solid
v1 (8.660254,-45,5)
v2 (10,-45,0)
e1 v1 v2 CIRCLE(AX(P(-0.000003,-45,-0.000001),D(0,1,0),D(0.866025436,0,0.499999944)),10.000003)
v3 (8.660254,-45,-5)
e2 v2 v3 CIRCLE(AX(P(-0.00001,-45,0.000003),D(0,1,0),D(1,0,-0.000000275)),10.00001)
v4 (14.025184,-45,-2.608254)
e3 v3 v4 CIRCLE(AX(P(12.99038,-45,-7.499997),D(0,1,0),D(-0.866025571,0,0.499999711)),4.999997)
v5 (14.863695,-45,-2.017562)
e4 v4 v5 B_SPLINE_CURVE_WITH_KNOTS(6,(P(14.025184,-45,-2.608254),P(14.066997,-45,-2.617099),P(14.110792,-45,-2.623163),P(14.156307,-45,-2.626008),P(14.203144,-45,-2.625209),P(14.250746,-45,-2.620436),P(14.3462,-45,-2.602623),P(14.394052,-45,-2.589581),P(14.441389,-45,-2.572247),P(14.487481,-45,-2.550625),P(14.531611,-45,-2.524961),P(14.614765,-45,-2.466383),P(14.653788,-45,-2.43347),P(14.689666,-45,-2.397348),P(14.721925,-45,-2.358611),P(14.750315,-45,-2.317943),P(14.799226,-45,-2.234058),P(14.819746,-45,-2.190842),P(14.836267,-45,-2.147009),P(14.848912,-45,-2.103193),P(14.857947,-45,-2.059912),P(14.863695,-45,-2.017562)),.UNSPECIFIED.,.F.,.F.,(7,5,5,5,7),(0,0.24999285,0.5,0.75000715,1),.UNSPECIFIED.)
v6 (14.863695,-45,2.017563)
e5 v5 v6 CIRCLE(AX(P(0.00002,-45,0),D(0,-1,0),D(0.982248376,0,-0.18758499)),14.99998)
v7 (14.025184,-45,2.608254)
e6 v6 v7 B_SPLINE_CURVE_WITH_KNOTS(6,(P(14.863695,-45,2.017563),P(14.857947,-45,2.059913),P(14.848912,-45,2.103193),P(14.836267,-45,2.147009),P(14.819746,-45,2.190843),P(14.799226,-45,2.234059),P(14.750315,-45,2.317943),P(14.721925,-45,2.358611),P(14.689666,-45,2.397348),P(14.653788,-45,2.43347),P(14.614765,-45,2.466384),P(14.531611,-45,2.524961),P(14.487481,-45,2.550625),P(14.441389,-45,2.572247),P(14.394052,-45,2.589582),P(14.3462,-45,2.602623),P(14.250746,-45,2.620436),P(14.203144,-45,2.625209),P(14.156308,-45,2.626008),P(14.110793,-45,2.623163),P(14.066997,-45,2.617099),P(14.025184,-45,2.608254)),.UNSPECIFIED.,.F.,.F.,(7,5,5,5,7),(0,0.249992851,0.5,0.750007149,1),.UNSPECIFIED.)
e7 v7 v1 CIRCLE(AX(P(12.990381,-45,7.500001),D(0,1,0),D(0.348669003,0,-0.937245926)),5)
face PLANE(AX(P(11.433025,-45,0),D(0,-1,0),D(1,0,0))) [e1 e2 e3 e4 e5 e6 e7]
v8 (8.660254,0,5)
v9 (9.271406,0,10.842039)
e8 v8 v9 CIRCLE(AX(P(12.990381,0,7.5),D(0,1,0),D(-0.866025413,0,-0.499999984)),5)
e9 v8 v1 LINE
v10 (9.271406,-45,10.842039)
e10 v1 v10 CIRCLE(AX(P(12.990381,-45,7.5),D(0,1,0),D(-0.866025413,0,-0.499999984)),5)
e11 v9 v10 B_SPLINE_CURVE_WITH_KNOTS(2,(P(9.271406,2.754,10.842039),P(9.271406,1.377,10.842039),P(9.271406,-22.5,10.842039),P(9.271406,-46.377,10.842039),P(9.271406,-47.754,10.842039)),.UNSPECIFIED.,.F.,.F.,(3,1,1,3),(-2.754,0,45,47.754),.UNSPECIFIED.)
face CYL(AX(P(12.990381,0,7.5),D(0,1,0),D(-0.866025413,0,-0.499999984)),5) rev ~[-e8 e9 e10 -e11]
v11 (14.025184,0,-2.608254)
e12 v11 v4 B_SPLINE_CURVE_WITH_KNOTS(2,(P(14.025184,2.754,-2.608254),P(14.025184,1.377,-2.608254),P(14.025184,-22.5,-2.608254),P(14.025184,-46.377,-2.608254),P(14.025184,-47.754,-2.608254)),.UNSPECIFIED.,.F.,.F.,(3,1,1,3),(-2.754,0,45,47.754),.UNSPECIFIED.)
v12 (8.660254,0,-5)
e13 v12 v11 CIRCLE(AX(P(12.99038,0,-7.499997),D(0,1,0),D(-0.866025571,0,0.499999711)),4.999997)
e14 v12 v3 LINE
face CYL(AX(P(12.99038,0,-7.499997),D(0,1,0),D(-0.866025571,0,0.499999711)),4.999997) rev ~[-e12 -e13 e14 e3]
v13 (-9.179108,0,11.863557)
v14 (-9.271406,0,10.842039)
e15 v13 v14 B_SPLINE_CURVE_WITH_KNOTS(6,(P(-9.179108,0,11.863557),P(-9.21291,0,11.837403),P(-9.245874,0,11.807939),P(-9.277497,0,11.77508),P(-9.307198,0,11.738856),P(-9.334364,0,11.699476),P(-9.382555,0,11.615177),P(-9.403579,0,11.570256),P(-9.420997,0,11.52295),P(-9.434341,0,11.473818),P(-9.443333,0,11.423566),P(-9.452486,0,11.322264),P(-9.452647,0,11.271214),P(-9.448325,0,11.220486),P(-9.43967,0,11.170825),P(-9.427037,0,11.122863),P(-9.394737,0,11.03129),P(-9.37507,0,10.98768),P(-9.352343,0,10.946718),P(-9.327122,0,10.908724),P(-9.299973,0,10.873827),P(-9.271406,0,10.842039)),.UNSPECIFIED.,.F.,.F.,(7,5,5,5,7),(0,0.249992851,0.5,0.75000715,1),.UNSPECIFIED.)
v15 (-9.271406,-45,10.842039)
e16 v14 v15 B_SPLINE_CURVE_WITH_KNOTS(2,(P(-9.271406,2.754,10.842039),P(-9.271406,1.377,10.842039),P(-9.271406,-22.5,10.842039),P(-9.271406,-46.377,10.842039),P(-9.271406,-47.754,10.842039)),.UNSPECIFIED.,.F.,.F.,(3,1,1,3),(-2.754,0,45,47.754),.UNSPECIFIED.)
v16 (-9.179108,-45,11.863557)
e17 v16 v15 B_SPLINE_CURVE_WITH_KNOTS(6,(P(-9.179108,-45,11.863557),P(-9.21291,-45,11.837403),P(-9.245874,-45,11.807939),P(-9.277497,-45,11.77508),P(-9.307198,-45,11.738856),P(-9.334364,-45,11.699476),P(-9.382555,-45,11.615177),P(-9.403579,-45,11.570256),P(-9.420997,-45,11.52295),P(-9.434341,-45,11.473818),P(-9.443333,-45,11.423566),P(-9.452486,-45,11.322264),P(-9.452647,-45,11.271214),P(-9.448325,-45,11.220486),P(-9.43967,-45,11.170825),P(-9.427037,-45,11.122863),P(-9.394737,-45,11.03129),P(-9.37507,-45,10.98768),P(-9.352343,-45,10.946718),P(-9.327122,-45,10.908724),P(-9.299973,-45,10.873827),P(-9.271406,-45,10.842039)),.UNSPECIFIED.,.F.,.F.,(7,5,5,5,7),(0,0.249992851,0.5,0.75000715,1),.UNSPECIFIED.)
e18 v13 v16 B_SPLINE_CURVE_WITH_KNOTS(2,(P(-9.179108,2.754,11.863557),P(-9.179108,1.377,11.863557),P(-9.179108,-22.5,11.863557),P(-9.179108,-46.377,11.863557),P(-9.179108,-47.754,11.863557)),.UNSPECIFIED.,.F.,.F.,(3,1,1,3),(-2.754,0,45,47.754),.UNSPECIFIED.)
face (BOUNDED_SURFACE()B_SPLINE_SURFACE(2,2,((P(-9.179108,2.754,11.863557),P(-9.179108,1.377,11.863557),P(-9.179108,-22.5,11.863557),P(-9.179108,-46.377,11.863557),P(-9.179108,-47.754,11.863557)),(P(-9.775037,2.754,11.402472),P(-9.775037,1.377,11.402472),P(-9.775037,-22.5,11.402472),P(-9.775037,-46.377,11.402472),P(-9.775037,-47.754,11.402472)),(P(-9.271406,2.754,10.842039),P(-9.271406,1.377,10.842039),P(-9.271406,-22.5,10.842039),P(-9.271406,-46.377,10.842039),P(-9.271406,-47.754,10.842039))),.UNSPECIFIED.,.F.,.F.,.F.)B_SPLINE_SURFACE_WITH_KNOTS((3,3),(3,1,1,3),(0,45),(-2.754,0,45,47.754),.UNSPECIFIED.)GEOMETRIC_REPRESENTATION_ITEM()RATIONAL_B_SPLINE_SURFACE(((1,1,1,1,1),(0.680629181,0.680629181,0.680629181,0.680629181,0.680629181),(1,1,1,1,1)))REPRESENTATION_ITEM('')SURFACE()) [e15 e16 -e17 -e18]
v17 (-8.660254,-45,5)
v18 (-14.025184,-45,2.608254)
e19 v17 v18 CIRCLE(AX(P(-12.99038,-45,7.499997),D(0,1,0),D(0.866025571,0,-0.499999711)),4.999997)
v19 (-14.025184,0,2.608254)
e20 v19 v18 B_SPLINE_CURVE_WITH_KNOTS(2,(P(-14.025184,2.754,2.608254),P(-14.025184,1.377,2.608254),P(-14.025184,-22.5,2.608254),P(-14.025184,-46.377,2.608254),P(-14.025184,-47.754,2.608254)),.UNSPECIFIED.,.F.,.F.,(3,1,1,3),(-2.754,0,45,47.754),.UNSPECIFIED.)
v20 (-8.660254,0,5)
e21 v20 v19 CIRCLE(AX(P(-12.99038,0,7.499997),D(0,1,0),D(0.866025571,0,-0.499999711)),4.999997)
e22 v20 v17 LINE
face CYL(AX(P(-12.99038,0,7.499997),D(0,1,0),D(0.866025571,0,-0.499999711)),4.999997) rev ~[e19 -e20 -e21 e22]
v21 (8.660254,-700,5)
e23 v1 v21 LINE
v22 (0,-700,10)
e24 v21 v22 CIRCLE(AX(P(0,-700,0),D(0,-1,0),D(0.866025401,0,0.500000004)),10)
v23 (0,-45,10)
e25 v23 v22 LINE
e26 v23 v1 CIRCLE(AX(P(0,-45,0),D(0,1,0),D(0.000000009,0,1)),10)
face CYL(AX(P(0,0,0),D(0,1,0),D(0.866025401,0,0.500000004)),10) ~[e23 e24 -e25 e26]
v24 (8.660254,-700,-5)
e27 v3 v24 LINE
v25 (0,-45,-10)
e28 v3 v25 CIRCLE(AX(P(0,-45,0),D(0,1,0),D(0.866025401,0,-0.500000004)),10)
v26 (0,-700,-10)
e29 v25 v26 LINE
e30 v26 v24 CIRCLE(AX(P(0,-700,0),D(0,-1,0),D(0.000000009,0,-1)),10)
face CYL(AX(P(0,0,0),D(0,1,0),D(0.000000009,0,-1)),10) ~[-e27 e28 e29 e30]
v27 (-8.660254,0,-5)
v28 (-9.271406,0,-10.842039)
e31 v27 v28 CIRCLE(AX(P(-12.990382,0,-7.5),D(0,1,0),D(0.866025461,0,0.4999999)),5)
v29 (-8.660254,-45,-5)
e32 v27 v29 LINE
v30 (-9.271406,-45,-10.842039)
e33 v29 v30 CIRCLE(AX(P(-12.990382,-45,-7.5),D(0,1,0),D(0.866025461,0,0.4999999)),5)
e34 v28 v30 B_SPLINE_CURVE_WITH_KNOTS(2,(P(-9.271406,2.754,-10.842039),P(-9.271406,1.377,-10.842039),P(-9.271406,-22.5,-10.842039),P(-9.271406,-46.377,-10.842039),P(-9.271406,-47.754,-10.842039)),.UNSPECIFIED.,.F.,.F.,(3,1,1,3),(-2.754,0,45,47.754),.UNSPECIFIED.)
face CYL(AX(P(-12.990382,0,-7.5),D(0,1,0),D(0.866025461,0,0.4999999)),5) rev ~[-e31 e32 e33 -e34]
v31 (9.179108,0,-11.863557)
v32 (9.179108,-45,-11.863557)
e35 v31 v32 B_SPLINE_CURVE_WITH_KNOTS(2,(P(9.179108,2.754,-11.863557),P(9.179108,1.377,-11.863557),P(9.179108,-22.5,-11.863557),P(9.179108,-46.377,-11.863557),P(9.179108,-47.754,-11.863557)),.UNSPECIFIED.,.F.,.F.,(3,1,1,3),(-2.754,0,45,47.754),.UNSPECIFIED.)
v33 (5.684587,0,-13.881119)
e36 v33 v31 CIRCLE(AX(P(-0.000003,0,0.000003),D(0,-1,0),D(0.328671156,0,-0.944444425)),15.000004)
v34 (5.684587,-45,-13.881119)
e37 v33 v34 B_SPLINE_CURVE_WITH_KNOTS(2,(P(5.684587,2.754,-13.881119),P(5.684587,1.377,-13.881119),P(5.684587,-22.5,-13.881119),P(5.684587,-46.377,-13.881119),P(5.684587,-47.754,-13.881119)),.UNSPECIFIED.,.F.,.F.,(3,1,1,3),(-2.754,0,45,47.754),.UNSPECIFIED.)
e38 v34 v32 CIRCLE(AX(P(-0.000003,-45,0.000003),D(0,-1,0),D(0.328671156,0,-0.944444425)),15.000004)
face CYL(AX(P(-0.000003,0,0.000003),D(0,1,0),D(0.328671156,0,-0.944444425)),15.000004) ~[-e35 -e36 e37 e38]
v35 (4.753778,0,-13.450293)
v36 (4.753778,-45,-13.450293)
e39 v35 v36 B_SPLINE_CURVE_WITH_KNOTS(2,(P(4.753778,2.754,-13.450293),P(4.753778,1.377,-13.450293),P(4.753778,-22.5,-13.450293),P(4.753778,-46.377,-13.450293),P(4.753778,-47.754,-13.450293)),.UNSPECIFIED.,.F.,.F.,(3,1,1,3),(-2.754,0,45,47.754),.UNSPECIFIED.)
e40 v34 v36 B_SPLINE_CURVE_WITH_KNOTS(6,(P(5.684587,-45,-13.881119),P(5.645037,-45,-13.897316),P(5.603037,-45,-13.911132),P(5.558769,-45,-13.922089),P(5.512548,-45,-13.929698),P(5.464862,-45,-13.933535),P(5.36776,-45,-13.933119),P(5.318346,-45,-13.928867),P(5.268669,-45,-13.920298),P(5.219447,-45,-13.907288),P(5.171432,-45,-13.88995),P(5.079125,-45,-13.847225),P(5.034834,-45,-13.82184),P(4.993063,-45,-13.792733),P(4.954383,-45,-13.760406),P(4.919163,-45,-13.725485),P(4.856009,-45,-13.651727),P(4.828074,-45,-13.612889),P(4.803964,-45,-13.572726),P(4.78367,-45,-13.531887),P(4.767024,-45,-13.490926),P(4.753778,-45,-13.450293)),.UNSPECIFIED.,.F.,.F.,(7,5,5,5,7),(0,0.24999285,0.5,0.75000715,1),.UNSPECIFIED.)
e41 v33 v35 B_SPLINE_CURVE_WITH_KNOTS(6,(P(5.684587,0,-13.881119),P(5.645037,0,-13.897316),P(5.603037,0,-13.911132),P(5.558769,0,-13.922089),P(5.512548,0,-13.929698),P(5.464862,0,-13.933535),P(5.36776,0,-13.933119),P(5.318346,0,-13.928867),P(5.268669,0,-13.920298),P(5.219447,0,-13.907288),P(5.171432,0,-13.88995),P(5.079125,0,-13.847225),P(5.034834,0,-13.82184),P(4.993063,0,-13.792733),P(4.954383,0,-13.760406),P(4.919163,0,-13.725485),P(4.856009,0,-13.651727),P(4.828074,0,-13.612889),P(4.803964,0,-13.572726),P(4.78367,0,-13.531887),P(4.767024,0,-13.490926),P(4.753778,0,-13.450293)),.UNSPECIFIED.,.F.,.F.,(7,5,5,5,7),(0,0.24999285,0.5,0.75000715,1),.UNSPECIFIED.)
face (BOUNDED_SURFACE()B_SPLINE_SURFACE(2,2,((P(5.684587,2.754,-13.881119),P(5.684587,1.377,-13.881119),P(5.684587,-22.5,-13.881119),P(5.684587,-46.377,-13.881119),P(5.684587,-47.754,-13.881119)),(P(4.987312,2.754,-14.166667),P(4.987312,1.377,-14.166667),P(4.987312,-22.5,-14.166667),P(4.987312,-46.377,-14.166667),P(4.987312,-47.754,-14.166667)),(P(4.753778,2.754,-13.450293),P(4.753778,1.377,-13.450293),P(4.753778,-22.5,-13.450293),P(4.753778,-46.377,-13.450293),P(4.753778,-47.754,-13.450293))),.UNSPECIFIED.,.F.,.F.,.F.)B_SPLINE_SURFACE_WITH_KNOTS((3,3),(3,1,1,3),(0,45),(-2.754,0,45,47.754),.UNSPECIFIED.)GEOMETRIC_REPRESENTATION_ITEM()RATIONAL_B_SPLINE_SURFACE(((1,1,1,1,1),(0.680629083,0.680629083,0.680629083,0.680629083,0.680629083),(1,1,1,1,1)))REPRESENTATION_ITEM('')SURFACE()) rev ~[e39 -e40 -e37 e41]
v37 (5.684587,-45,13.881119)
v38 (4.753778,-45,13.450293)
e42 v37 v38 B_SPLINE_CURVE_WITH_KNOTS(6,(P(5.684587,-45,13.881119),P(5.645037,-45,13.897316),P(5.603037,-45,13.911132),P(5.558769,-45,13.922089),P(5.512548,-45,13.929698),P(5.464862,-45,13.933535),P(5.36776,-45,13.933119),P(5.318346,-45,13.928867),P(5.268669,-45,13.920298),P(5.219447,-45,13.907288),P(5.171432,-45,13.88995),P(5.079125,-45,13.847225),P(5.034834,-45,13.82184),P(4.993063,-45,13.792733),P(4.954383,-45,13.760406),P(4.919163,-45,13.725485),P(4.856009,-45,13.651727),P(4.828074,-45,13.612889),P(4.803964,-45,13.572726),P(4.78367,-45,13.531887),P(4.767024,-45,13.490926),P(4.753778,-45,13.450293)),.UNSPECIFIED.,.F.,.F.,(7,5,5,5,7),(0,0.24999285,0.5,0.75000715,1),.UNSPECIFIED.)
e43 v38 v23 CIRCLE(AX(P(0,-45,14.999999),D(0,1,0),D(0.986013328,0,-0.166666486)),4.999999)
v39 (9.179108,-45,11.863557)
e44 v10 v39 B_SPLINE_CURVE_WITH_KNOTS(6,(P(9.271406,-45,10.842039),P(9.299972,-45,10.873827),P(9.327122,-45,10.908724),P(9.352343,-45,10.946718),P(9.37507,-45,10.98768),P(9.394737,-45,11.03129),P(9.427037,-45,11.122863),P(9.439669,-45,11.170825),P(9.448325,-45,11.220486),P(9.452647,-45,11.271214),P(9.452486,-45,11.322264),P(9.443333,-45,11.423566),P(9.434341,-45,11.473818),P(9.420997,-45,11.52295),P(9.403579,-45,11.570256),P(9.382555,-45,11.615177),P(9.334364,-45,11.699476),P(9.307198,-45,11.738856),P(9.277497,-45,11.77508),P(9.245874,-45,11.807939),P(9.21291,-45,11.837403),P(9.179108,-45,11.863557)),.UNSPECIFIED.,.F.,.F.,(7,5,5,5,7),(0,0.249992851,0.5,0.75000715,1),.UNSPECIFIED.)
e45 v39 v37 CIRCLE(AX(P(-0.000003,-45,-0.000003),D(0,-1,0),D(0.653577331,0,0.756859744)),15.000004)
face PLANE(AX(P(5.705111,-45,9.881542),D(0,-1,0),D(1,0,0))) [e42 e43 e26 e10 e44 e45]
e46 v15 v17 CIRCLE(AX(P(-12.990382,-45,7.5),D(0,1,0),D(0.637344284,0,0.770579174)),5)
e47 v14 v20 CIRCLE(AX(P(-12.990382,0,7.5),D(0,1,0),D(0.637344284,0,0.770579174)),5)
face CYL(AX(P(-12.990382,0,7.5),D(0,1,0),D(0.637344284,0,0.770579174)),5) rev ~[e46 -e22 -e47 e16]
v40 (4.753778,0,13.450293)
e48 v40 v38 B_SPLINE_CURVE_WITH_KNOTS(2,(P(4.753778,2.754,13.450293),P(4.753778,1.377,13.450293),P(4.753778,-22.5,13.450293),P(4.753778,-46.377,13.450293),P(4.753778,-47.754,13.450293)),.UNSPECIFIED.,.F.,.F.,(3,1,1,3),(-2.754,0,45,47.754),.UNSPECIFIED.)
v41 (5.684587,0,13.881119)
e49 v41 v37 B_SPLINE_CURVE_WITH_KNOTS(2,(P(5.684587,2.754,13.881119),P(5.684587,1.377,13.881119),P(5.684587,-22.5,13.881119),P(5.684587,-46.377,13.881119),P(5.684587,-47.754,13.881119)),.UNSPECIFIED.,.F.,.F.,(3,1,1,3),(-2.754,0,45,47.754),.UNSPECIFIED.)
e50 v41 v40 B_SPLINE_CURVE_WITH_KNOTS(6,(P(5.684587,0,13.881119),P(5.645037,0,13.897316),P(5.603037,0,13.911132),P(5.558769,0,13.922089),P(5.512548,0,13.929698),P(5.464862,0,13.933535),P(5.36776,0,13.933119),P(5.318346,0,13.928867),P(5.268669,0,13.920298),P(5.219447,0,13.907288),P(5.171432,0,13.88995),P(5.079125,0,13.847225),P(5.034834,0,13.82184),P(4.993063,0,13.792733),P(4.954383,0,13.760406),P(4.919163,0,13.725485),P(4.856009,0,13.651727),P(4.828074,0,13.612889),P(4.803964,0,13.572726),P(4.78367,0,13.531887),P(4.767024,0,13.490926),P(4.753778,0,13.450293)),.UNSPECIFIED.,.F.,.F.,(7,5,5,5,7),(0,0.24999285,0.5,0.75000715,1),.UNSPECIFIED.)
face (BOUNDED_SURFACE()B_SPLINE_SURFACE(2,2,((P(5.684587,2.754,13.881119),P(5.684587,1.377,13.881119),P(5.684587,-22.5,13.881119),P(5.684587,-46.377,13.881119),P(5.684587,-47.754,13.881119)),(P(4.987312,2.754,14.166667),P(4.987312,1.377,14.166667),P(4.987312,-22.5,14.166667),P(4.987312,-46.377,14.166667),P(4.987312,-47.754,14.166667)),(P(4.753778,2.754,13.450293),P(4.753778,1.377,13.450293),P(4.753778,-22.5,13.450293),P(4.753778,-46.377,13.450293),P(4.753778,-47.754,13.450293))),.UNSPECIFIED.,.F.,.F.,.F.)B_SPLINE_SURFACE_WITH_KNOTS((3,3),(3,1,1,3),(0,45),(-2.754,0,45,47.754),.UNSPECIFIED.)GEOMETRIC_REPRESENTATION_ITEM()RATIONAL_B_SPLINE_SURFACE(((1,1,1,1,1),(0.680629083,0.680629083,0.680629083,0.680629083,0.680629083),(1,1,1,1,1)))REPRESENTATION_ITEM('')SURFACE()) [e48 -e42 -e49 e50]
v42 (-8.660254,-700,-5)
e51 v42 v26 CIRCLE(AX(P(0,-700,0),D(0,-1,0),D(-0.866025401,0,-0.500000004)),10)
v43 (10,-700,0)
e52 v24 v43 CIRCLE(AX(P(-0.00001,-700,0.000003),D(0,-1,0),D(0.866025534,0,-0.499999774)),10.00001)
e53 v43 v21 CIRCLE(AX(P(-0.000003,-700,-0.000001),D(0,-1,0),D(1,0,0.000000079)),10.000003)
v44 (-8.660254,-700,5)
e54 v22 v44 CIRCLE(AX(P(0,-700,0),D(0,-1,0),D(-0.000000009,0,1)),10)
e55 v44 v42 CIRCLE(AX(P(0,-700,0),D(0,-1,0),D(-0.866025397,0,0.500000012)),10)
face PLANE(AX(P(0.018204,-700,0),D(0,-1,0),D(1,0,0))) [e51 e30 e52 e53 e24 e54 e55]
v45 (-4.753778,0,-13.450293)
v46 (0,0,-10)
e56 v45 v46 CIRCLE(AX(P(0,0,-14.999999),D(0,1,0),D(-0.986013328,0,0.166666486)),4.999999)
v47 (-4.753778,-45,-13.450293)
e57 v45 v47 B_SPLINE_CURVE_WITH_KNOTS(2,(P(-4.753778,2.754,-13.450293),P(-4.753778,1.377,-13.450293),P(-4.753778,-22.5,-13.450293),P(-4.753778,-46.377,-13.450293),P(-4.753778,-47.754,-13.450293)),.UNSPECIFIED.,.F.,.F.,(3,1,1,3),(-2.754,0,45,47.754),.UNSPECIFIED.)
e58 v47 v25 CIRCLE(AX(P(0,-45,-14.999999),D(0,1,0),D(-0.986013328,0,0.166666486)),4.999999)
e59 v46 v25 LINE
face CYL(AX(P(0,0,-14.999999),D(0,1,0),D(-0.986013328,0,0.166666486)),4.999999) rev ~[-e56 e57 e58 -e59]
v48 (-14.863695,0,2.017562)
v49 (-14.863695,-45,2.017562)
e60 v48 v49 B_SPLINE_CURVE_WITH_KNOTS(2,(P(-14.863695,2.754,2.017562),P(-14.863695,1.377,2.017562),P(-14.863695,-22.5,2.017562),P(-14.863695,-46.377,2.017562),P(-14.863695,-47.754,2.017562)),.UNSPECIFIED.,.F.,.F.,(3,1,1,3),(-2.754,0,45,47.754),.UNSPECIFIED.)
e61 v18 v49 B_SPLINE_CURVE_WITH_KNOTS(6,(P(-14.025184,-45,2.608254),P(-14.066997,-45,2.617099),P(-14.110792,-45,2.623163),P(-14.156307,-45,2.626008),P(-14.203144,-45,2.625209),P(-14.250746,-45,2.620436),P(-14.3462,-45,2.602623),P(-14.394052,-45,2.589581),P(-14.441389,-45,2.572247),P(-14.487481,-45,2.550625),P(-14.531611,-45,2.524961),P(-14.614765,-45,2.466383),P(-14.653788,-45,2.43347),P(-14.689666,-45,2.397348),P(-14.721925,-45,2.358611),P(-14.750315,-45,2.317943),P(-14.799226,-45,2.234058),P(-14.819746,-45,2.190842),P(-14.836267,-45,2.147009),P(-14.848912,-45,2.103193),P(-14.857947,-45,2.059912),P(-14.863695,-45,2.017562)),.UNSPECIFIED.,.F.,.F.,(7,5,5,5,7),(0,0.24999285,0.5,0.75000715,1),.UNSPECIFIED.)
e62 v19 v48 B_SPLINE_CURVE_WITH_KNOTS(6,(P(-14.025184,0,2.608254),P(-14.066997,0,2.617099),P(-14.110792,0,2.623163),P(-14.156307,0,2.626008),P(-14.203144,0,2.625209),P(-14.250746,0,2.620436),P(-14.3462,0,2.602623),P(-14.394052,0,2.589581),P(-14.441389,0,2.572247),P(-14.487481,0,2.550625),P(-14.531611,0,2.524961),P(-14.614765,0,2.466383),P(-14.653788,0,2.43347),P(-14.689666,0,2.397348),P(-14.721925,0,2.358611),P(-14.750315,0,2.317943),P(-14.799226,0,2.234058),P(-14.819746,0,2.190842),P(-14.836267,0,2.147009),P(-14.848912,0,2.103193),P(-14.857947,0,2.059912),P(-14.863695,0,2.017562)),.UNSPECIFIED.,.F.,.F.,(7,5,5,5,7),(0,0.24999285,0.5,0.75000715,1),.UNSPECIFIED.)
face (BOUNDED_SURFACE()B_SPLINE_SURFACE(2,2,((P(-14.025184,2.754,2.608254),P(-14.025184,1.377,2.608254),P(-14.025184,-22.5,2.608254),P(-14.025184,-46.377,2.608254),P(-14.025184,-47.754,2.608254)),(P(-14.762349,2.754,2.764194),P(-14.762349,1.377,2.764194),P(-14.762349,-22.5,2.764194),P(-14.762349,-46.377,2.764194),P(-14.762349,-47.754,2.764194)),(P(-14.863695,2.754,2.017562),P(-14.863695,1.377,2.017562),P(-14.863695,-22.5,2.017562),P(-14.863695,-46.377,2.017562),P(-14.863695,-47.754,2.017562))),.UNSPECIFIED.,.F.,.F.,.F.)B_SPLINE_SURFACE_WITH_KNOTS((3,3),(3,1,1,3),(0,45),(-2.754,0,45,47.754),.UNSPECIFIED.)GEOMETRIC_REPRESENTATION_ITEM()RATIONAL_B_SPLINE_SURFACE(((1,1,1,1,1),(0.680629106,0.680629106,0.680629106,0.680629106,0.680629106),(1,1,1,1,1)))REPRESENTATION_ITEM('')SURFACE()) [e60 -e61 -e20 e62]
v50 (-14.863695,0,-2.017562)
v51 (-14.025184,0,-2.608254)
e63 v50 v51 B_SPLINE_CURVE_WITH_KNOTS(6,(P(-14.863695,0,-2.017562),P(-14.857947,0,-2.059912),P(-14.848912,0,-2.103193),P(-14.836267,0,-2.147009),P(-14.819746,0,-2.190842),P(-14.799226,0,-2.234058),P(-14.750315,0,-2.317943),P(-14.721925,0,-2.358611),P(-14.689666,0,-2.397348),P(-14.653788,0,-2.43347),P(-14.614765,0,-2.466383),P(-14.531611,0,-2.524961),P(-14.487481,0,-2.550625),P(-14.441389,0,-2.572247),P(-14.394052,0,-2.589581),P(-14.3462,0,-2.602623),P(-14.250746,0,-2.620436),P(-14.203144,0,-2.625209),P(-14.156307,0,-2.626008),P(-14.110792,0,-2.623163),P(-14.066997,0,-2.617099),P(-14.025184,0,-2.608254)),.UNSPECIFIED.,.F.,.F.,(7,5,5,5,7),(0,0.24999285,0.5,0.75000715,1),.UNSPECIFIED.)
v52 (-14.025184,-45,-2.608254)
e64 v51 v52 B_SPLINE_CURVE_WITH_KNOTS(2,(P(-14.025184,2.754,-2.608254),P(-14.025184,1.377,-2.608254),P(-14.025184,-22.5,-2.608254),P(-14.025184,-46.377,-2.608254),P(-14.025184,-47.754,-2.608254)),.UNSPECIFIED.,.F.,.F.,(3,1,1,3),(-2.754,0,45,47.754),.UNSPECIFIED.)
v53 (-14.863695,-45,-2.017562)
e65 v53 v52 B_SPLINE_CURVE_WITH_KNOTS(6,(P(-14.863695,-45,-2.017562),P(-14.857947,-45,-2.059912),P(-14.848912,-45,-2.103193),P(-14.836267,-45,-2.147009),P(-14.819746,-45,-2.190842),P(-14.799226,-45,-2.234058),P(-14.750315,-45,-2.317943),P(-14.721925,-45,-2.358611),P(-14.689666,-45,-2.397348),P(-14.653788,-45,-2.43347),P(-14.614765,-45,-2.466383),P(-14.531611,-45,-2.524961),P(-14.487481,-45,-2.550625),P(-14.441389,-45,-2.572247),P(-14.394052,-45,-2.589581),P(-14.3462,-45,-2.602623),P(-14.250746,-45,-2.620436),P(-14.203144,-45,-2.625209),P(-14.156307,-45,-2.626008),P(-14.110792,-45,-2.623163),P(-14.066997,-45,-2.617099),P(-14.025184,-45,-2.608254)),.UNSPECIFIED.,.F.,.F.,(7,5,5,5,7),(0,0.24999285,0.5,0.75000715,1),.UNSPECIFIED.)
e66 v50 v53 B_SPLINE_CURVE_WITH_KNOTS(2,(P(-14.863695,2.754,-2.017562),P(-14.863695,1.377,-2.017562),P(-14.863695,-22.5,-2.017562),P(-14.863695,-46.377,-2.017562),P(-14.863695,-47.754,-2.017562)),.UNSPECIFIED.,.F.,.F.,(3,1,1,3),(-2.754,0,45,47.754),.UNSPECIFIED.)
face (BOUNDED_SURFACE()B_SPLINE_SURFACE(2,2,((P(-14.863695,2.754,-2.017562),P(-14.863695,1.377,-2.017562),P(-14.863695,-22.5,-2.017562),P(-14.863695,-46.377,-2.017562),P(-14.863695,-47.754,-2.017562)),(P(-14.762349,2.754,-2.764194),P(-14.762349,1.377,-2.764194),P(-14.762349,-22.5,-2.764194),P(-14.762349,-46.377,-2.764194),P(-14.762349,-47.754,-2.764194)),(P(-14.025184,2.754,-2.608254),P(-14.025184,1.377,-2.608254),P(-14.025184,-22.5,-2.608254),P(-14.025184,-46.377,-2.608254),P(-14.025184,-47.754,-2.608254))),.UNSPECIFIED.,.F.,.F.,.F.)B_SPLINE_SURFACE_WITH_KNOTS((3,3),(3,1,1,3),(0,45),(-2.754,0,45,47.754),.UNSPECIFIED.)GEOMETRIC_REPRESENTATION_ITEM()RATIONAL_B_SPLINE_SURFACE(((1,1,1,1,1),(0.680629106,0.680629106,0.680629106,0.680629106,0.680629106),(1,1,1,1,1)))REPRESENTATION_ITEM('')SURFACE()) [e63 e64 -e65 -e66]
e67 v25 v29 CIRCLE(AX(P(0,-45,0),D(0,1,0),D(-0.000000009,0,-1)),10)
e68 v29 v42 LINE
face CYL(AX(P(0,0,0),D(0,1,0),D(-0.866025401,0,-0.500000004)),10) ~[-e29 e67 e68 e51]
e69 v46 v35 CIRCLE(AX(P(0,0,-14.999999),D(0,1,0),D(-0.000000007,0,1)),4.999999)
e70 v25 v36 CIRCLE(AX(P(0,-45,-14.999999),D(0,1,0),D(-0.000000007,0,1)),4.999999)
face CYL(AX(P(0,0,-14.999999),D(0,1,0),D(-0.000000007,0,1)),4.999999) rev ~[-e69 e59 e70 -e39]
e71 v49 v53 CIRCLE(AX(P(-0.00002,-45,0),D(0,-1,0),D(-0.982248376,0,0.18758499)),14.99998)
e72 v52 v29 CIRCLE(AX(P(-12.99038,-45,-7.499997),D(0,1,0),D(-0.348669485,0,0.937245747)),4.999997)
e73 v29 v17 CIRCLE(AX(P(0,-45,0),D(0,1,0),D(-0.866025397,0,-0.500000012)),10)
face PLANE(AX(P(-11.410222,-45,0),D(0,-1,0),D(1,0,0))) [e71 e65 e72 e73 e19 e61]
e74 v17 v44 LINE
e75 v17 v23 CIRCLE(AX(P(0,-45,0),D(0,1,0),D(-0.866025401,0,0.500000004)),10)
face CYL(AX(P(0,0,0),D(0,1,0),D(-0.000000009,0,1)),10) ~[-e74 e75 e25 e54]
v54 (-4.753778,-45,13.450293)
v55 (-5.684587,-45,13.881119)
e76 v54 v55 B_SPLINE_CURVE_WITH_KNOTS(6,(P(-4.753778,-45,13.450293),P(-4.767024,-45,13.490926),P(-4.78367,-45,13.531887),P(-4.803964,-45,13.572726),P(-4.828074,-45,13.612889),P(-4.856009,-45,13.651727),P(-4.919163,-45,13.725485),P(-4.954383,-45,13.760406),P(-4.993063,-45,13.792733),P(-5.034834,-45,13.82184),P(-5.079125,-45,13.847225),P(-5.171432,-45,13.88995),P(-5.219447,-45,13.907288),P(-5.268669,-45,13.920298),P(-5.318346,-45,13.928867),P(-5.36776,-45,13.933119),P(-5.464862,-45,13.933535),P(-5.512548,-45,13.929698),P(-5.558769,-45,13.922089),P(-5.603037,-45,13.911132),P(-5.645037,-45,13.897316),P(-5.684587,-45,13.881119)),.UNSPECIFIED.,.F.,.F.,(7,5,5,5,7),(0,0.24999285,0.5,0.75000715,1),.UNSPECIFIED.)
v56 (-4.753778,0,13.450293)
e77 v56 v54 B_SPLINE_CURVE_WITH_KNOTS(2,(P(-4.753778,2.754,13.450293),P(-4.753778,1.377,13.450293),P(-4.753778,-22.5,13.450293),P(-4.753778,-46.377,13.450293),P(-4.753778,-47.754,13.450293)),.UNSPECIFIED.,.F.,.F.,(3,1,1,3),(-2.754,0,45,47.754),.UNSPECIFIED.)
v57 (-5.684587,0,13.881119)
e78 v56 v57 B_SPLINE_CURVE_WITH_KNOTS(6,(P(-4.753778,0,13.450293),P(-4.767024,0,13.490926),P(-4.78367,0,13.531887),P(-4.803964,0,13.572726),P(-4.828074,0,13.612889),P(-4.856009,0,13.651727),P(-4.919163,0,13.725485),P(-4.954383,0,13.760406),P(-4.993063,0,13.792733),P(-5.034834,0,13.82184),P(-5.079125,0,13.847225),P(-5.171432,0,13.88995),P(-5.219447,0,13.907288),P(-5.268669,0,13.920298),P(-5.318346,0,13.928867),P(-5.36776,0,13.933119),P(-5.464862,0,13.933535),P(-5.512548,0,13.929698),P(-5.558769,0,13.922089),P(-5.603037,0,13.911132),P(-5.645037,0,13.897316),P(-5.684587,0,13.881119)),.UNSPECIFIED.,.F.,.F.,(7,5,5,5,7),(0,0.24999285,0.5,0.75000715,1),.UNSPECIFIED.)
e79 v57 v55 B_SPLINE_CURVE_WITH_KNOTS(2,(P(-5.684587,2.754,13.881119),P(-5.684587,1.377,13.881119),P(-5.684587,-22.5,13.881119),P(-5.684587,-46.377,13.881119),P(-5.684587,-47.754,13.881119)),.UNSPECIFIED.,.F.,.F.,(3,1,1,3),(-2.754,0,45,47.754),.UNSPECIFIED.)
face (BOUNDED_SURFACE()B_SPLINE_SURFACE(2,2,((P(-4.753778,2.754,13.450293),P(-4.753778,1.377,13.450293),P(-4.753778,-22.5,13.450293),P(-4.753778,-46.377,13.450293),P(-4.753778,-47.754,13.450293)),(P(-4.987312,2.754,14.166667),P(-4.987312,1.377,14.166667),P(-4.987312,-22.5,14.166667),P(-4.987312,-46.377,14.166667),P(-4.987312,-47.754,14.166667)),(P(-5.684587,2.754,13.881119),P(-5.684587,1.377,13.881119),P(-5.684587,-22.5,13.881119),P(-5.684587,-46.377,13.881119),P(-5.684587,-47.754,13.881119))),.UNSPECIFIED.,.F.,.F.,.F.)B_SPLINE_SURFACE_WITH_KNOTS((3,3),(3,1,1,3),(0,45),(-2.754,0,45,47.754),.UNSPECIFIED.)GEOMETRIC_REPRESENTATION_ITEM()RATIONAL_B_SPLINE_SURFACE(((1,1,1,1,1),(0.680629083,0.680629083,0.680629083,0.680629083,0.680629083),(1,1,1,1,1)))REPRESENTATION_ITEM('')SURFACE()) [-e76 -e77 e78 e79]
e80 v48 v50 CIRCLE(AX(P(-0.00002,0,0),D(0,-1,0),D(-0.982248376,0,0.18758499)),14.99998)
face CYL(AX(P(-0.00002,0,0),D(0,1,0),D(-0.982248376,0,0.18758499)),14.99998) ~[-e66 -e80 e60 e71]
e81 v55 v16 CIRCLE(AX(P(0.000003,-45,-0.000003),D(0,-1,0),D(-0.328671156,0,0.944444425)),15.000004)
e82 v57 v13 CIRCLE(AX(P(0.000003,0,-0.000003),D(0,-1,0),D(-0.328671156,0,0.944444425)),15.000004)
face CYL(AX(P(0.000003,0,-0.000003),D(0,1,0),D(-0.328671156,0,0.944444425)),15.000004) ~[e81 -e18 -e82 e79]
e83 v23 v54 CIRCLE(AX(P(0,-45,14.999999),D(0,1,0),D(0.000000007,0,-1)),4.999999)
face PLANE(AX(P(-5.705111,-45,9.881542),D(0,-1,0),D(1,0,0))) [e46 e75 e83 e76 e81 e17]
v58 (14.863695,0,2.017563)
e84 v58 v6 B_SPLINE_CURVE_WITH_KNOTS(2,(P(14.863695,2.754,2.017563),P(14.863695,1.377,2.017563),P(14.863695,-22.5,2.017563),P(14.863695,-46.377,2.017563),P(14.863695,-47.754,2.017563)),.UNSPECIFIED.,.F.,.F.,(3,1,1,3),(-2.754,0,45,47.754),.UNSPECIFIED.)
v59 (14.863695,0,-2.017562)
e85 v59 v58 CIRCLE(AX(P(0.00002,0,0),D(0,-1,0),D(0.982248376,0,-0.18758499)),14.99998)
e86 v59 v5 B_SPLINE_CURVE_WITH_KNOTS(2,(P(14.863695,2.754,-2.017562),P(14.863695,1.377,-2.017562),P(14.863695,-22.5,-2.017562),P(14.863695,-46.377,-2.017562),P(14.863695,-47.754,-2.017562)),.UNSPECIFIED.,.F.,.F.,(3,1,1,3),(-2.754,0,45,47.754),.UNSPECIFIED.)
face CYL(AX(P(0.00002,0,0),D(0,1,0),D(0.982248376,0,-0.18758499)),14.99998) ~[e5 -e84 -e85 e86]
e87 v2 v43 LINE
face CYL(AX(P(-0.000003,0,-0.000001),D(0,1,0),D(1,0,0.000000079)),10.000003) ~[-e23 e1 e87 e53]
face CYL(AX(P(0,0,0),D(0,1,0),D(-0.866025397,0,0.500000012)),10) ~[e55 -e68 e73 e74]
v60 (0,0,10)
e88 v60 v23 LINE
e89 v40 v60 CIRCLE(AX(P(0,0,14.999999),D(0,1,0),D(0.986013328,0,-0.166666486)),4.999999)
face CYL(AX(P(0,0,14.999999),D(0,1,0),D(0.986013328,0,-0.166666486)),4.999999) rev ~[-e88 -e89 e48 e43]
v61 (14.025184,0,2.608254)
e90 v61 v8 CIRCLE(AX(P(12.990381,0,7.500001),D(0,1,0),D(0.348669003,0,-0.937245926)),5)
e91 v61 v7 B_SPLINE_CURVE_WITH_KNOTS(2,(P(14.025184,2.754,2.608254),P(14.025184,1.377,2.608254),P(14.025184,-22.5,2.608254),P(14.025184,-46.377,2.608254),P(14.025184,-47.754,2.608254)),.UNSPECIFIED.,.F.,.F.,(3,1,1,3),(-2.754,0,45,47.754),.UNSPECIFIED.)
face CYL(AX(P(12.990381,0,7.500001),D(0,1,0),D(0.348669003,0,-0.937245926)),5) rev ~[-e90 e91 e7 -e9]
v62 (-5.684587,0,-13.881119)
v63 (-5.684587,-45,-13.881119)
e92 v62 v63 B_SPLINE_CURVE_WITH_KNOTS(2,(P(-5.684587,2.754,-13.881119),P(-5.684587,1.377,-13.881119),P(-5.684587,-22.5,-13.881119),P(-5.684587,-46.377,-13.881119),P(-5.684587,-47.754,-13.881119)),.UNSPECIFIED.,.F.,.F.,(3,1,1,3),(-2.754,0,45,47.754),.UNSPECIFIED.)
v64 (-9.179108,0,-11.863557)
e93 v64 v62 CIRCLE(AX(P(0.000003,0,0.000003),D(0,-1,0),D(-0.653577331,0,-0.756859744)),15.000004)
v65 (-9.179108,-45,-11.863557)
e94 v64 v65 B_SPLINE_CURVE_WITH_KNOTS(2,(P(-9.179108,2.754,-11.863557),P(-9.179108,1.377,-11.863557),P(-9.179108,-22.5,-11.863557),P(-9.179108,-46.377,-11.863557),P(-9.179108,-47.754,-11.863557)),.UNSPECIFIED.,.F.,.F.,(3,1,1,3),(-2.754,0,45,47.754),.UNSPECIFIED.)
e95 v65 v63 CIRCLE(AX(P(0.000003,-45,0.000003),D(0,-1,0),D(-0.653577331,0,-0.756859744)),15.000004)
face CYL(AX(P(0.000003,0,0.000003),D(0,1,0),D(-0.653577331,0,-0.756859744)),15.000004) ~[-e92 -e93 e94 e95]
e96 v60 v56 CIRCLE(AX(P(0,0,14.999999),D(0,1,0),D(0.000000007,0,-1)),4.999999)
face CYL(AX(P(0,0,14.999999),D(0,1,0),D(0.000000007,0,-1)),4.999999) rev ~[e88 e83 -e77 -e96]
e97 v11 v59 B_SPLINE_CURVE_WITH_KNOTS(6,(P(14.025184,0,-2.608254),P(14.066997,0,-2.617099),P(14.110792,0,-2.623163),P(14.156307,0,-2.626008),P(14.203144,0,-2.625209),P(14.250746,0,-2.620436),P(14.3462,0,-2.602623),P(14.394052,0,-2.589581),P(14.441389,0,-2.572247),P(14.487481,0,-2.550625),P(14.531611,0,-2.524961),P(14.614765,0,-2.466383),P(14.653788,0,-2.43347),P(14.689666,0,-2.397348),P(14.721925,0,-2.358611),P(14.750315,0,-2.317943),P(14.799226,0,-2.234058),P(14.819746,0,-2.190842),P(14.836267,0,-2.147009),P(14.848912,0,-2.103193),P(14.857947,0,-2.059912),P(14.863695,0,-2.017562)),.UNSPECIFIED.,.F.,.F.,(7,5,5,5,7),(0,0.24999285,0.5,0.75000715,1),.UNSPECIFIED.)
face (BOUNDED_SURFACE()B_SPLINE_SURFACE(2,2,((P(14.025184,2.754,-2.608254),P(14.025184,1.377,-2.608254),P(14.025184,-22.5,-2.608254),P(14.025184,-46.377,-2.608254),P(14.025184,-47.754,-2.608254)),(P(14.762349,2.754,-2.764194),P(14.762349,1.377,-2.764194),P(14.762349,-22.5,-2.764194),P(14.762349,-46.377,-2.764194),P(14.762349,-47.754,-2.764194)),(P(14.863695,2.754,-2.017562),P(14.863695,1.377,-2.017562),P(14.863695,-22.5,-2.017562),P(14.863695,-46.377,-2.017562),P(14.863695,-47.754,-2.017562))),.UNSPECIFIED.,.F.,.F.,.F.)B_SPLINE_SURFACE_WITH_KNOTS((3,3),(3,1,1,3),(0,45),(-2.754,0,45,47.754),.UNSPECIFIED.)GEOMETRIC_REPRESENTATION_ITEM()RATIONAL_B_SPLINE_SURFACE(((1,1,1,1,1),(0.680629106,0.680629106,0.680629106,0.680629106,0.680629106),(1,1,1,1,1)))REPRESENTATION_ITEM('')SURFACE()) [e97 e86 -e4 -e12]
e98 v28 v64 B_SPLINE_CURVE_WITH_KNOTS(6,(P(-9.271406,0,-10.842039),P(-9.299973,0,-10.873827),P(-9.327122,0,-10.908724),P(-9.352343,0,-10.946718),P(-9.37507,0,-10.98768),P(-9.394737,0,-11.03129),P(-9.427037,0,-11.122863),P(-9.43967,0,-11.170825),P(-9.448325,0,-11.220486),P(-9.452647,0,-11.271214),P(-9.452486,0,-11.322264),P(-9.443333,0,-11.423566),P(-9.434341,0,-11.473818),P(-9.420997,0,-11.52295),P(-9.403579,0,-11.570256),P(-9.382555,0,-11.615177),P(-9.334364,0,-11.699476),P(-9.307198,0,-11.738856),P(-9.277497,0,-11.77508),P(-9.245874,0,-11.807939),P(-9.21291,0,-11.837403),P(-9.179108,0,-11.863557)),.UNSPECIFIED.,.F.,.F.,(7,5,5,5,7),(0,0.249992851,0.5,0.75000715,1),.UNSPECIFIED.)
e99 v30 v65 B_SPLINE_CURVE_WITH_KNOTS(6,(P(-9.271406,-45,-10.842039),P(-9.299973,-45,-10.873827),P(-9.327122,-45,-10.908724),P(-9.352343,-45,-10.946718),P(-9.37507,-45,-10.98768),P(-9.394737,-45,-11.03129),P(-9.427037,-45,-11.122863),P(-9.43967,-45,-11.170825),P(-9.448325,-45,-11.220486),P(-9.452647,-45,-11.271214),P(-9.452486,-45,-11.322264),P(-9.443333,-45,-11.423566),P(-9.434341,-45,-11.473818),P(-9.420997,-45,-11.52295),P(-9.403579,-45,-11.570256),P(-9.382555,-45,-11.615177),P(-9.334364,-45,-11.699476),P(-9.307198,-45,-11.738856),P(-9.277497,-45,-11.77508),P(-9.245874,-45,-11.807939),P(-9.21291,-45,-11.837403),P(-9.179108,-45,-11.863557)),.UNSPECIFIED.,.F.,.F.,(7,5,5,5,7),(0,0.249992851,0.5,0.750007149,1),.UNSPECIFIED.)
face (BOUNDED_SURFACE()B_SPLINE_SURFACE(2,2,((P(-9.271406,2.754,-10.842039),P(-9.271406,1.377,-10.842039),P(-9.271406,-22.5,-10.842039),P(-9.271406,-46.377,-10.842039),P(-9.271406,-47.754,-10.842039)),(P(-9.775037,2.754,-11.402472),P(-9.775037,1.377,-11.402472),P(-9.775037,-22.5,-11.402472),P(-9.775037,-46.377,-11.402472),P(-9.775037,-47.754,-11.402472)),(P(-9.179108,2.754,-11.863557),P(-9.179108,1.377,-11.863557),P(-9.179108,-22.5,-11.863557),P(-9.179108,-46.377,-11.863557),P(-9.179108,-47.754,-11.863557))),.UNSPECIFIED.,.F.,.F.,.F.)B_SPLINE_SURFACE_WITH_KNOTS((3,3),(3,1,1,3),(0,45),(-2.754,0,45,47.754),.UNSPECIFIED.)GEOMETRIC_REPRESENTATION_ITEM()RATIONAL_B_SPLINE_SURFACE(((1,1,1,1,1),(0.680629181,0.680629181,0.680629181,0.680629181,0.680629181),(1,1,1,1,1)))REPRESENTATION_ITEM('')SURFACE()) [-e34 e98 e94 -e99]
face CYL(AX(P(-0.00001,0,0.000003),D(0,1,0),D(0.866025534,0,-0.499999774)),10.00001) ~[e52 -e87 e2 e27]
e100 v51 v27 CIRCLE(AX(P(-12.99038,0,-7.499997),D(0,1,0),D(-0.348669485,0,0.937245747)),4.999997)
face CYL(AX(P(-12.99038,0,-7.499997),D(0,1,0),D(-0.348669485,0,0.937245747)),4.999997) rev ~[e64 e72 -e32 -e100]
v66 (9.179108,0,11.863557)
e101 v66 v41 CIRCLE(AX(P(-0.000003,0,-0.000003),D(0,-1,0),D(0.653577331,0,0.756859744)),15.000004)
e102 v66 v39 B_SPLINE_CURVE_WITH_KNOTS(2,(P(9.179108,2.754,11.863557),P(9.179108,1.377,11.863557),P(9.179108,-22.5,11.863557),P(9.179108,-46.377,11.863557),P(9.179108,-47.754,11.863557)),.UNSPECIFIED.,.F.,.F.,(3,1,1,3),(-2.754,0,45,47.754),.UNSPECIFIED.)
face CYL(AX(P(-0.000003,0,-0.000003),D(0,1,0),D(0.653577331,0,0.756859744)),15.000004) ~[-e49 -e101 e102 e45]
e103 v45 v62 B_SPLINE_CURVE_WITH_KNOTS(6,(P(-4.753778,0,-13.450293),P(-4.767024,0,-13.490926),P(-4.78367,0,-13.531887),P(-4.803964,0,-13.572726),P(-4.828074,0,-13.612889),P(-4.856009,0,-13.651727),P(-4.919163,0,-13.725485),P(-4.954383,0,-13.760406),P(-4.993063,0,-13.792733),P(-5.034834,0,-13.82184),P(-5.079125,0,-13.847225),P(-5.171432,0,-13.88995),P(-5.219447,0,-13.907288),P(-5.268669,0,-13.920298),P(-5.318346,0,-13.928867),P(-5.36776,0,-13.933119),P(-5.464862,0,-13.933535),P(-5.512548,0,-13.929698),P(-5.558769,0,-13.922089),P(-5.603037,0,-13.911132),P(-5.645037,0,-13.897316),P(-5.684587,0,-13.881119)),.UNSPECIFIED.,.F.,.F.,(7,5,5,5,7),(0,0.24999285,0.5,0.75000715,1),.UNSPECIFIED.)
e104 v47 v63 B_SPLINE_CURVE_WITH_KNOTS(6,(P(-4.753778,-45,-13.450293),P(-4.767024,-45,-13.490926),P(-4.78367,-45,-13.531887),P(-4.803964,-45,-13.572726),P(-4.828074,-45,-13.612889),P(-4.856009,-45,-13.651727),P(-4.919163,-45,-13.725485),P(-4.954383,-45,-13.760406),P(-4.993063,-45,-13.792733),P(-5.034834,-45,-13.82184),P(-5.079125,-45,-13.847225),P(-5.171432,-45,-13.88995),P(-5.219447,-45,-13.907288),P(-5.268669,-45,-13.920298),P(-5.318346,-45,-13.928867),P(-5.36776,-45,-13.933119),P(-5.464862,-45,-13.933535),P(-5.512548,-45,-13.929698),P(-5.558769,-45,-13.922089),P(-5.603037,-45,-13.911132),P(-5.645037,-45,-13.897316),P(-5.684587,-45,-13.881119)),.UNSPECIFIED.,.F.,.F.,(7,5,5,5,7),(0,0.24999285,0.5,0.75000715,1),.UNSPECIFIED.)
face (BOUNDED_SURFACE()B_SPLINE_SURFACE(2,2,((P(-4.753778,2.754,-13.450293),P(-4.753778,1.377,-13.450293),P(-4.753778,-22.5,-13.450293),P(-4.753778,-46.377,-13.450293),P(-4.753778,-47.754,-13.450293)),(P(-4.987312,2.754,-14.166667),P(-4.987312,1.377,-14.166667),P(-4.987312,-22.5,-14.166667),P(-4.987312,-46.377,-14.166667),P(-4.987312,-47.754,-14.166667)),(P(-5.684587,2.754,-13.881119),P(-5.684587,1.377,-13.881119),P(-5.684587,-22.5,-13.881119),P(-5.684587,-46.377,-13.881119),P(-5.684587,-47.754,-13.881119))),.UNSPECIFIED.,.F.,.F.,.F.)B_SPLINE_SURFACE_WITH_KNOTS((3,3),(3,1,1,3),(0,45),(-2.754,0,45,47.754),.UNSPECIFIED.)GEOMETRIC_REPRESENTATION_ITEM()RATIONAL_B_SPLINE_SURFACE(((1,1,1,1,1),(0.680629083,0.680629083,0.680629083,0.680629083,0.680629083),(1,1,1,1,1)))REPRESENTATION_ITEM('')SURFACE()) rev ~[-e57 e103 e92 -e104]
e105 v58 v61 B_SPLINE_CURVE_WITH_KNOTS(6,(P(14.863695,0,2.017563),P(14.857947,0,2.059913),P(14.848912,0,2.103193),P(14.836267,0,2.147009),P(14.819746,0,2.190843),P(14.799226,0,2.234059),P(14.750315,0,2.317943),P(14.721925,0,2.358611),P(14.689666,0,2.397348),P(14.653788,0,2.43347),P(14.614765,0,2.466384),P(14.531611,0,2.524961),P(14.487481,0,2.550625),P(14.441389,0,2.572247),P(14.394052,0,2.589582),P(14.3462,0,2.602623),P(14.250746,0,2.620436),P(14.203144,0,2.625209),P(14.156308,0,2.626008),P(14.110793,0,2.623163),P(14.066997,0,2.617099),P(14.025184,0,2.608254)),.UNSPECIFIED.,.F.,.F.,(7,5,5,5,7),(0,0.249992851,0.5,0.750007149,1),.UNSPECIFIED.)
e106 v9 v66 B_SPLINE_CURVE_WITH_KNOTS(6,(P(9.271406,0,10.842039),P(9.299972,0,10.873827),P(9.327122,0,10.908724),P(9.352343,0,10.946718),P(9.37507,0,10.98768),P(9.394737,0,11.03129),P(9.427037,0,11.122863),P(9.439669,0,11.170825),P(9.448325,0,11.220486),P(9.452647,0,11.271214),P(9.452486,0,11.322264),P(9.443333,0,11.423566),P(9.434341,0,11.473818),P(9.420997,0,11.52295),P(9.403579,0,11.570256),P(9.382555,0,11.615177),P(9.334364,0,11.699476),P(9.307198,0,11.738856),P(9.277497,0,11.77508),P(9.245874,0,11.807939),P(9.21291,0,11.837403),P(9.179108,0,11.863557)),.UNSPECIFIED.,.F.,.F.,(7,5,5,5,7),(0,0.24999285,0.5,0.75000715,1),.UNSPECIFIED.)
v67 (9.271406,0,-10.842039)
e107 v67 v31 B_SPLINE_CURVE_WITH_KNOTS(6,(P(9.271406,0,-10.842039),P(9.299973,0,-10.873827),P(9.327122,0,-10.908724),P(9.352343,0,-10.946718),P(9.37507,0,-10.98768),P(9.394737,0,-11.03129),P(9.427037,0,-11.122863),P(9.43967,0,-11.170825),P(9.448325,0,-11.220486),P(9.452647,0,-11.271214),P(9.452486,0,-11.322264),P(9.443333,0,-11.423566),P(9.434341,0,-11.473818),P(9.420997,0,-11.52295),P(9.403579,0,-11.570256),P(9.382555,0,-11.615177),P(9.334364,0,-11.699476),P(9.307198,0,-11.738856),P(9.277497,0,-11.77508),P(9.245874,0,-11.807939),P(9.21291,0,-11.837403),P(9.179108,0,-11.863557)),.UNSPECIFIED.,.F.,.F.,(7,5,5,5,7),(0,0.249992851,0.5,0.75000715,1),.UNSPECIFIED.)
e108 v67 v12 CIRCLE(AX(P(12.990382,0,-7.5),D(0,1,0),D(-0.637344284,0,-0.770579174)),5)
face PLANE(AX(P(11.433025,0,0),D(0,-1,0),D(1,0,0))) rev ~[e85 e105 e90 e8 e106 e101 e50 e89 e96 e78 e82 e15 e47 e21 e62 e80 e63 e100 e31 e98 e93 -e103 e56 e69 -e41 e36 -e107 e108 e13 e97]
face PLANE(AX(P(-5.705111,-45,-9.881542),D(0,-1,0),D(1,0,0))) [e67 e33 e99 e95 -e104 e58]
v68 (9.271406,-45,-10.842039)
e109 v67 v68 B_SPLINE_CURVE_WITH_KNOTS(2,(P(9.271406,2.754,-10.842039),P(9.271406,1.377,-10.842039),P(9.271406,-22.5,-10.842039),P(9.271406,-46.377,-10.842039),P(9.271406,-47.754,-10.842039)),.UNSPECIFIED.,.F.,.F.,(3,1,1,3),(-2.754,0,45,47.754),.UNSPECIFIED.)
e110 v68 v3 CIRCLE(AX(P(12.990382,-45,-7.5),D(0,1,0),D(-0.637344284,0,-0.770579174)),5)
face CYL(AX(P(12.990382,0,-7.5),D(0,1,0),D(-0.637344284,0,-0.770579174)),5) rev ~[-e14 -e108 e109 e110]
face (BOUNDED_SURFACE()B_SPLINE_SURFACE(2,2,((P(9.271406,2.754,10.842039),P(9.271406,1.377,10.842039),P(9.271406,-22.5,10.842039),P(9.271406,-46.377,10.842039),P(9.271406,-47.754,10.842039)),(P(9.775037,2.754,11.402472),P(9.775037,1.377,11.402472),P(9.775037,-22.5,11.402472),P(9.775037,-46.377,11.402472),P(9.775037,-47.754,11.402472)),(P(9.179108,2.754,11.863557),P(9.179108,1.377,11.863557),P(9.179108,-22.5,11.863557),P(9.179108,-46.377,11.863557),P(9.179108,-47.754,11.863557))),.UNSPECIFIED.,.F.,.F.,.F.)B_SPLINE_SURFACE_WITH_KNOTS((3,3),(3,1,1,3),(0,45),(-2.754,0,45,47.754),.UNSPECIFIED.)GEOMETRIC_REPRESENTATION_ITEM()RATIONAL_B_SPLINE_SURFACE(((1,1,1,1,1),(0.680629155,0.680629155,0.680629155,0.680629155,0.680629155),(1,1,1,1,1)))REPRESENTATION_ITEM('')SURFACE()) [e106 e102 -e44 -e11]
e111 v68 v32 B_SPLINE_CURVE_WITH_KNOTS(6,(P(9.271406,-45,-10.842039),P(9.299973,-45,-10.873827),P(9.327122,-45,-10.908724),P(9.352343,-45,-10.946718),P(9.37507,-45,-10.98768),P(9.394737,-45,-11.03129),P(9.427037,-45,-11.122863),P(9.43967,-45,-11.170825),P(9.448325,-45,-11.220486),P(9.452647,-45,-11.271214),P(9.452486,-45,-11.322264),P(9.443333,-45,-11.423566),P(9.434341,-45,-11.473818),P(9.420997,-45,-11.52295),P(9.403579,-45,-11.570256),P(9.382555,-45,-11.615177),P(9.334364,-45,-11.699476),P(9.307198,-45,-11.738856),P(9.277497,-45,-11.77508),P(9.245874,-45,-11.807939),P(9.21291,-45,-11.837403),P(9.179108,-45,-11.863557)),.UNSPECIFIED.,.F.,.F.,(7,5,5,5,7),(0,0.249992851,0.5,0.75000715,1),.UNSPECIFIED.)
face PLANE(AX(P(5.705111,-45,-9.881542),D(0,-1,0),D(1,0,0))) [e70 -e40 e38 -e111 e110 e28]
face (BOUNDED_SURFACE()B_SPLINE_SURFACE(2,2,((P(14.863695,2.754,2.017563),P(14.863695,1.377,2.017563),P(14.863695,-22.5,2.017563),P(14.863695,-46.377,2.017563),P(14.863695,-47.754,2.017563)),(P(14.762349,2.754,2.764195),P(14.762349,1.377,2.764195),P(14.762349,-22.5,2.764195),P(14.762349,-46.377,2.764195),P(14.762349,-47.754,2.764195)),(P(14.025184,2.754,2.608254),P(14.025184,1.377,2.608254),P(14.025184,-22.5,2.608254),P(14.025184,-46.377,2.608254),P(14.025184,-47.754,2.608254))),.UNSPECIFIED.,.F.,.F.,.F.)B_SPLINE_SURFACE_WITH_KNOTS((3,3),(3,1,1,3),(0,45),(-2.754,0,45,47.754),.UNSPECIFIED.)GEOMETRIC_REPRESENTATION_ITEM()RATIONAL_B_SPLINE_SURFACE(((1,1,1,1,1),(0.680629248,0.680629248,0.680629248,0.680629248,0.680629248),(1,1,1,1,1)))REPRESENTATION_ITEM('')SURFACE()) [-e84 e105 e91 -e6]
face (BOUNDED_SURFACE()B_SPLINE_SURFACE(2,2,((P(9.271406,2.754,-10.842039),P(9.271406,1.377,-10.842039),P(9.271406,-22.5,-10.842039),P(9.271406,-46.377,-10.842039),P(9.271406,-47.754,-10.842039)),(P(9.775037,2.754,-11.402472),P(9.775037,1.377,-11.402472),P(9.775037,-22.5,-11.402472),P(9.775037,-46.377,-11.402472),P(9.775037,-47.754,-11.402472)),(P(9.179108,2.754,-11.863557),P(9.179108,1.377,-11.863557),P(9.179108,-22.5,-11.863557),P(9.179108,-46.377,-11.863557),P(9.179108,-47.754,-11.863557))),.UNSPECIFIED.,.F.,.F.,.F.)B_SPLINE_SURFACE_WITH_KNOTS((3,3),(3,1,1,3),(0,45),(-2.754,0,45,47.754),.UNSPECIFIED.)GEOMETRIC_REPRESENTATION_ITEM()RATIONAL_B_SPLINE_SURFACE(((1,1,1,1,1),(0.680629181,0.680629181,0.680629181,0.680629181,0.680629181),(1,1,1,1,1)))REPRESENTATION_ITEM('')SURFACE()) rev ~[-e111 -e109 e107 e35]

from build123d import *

# Parameters (mm, degrees)
F1_DEPTH = 700
F2_DEPTH = 45
F3_R     = 0.7


with BuildPart() as f1:
    # F0 (on Front) → F1 (new body)
    with BuildSketch(Plane.XZ):
        with BuildLine():
            ThreePointArc((8.660254, -5), (9.659258, -2.58819), (10, 0))
            ThreePointArc((10, 0), (9.659258, 2.588191), (8.660254, 5))
            ThreePointArc((8.660254, 5), (5, 8.660254), (0, 10))
            ThreePointArc((0, 10), (-5, 8.660254), (-8.660254, 5))
            ThreePointArc((-8.660254, 5), (-10, 0), (-8.660254, -5))
            ThreePointArc((-8.660254, -5), (-5, -8.660254), (0, -10))
            ThreePointArc((0, -10), (5, -8.660254), (8.660254, -5))
        make_face()
    extrude(amount=F1_DEPTH)

    # F0 (on Front) → F2 (join)
    with BuildSketch(Plane.XZ):
        with BuildLine():
            ThreePointArc((8.660254, 5), (9.659258, 2.588191), (10, 0))
            ThreePointArc((10, 0), (9.659258, -2.58819), (8.660254, -5))
            ThreePointArc((8.660254, -5), (11.296935, -2.795508), (14.733726, -2.813771))
            ThreePointArc((14.733726, -2.813771), (15, 0), (14.733726, 2.813771))
            ThreePointArc((14.733726, 2.813771), (11.296935, 2.795509), (8.660254, 5))
        make_face()
        with BuildLine():
            ThreePointArc((0, 10), (5, 8.660254), (8.660254, 5))
            ThreePointArc((8.660254, 5), (8.069449, 8.385679), (9.80366, 11.352896))
            ThreePointArc((9.80366, 11.352896), (7.5, 12.990381), (4.930066, 14.166667))
            ThreePointArc((4.930066, 14.166667), (3.227486, 11.181187), (0, 10))
        make_face()
        with BuildLine():
            ThreePointArc((9.80366, -11.352896), (8.069449, -8.385678), (8.660254, -5))
            ThreePointArc((8.660254, -5), (5, -8.660254), (0, -10))
            ThreePointArc((0, -10), (3.227486, -11.181187), (4.930066, -14.166667))
            ThreePointArc((4.930066, -14.166667), (7.5, -12.990381), (9.80366, -11.352896))
        make_face()
        with BuildLine():
            ThreePointArc((-8.660254, 5), (-5, 8.660254), (0, 10))
            ThreePointArc((0, 10), (-3.227486, 11.181187), (-4.930066, 14.166667))
            ThreePointArc((-4.930066, 14.166667), (-7.5, 12.990381), (-9.80366, 11.352896))
            ThreePointArc((-9.80366, 11.352896), (-8.069449, 8.385678), (-8.660254, 5))
        make_face()
        with BuildLine():
            ThreePointArc((-4.930066, -14.166667), (-3.227486, -11.181187), (0, -10))
            ThreePointArc((0, -10), (-5, -8.660254), (-8.660254, -5))
            ThreePointArc((-8.660254, -5), (-8.069449, -8.385678), (-9.80366, -11.352896))
            ThreePointArc((-9.80366, -11.352896), (-7.5, -12.990381), (-4.930066, -14.166667))
        make_face()
        with BuildLine():
            ThreePointArc((-8.660254, -5), (-10, 0), (-8.660254, 5))
            ThreePointArc((-8.660254, 5), (-11.296935, 2.795508), (-14.733726, 2.813771))
            ThreePointArc((-14.733726, 2.813771), (-15, 0), (-14.733726, -2.813771))
            ThreePointArc((-14.733726, -2.813771), (-11.296935, -2.795508), (-8.660254, -5))
        make_face()
    extrude(amount=F2_DEPTH)

    # F3
    f3_edges = [f1.edges().sort_by_distance(p)[0] for p in [
        (14.733726, -22.5, -2.813771),
        (9.80366, -22.5, -11.352896),
        (4.930066, -22.5, -14.166667),
        (-4.930066, -22.5, -14.166667),
        (-9.80366, -22.5, -11.352896),
        (-14.733726, -22.5, -2.813771),
        (-14.733726, -22.5, 2.813771),
        (-9.80366, -22.5, 11.352896),
        (-4.930066, -22.5, 14.166667),
        (4.930066, -22.5, 14.166667),
        (9.80366, -22.5, 11.352896),
        (14.733726, -22.5, 2.813771),
    ]]
    fillet(f3_edges, radius=F3_R)


solid = f1.part
